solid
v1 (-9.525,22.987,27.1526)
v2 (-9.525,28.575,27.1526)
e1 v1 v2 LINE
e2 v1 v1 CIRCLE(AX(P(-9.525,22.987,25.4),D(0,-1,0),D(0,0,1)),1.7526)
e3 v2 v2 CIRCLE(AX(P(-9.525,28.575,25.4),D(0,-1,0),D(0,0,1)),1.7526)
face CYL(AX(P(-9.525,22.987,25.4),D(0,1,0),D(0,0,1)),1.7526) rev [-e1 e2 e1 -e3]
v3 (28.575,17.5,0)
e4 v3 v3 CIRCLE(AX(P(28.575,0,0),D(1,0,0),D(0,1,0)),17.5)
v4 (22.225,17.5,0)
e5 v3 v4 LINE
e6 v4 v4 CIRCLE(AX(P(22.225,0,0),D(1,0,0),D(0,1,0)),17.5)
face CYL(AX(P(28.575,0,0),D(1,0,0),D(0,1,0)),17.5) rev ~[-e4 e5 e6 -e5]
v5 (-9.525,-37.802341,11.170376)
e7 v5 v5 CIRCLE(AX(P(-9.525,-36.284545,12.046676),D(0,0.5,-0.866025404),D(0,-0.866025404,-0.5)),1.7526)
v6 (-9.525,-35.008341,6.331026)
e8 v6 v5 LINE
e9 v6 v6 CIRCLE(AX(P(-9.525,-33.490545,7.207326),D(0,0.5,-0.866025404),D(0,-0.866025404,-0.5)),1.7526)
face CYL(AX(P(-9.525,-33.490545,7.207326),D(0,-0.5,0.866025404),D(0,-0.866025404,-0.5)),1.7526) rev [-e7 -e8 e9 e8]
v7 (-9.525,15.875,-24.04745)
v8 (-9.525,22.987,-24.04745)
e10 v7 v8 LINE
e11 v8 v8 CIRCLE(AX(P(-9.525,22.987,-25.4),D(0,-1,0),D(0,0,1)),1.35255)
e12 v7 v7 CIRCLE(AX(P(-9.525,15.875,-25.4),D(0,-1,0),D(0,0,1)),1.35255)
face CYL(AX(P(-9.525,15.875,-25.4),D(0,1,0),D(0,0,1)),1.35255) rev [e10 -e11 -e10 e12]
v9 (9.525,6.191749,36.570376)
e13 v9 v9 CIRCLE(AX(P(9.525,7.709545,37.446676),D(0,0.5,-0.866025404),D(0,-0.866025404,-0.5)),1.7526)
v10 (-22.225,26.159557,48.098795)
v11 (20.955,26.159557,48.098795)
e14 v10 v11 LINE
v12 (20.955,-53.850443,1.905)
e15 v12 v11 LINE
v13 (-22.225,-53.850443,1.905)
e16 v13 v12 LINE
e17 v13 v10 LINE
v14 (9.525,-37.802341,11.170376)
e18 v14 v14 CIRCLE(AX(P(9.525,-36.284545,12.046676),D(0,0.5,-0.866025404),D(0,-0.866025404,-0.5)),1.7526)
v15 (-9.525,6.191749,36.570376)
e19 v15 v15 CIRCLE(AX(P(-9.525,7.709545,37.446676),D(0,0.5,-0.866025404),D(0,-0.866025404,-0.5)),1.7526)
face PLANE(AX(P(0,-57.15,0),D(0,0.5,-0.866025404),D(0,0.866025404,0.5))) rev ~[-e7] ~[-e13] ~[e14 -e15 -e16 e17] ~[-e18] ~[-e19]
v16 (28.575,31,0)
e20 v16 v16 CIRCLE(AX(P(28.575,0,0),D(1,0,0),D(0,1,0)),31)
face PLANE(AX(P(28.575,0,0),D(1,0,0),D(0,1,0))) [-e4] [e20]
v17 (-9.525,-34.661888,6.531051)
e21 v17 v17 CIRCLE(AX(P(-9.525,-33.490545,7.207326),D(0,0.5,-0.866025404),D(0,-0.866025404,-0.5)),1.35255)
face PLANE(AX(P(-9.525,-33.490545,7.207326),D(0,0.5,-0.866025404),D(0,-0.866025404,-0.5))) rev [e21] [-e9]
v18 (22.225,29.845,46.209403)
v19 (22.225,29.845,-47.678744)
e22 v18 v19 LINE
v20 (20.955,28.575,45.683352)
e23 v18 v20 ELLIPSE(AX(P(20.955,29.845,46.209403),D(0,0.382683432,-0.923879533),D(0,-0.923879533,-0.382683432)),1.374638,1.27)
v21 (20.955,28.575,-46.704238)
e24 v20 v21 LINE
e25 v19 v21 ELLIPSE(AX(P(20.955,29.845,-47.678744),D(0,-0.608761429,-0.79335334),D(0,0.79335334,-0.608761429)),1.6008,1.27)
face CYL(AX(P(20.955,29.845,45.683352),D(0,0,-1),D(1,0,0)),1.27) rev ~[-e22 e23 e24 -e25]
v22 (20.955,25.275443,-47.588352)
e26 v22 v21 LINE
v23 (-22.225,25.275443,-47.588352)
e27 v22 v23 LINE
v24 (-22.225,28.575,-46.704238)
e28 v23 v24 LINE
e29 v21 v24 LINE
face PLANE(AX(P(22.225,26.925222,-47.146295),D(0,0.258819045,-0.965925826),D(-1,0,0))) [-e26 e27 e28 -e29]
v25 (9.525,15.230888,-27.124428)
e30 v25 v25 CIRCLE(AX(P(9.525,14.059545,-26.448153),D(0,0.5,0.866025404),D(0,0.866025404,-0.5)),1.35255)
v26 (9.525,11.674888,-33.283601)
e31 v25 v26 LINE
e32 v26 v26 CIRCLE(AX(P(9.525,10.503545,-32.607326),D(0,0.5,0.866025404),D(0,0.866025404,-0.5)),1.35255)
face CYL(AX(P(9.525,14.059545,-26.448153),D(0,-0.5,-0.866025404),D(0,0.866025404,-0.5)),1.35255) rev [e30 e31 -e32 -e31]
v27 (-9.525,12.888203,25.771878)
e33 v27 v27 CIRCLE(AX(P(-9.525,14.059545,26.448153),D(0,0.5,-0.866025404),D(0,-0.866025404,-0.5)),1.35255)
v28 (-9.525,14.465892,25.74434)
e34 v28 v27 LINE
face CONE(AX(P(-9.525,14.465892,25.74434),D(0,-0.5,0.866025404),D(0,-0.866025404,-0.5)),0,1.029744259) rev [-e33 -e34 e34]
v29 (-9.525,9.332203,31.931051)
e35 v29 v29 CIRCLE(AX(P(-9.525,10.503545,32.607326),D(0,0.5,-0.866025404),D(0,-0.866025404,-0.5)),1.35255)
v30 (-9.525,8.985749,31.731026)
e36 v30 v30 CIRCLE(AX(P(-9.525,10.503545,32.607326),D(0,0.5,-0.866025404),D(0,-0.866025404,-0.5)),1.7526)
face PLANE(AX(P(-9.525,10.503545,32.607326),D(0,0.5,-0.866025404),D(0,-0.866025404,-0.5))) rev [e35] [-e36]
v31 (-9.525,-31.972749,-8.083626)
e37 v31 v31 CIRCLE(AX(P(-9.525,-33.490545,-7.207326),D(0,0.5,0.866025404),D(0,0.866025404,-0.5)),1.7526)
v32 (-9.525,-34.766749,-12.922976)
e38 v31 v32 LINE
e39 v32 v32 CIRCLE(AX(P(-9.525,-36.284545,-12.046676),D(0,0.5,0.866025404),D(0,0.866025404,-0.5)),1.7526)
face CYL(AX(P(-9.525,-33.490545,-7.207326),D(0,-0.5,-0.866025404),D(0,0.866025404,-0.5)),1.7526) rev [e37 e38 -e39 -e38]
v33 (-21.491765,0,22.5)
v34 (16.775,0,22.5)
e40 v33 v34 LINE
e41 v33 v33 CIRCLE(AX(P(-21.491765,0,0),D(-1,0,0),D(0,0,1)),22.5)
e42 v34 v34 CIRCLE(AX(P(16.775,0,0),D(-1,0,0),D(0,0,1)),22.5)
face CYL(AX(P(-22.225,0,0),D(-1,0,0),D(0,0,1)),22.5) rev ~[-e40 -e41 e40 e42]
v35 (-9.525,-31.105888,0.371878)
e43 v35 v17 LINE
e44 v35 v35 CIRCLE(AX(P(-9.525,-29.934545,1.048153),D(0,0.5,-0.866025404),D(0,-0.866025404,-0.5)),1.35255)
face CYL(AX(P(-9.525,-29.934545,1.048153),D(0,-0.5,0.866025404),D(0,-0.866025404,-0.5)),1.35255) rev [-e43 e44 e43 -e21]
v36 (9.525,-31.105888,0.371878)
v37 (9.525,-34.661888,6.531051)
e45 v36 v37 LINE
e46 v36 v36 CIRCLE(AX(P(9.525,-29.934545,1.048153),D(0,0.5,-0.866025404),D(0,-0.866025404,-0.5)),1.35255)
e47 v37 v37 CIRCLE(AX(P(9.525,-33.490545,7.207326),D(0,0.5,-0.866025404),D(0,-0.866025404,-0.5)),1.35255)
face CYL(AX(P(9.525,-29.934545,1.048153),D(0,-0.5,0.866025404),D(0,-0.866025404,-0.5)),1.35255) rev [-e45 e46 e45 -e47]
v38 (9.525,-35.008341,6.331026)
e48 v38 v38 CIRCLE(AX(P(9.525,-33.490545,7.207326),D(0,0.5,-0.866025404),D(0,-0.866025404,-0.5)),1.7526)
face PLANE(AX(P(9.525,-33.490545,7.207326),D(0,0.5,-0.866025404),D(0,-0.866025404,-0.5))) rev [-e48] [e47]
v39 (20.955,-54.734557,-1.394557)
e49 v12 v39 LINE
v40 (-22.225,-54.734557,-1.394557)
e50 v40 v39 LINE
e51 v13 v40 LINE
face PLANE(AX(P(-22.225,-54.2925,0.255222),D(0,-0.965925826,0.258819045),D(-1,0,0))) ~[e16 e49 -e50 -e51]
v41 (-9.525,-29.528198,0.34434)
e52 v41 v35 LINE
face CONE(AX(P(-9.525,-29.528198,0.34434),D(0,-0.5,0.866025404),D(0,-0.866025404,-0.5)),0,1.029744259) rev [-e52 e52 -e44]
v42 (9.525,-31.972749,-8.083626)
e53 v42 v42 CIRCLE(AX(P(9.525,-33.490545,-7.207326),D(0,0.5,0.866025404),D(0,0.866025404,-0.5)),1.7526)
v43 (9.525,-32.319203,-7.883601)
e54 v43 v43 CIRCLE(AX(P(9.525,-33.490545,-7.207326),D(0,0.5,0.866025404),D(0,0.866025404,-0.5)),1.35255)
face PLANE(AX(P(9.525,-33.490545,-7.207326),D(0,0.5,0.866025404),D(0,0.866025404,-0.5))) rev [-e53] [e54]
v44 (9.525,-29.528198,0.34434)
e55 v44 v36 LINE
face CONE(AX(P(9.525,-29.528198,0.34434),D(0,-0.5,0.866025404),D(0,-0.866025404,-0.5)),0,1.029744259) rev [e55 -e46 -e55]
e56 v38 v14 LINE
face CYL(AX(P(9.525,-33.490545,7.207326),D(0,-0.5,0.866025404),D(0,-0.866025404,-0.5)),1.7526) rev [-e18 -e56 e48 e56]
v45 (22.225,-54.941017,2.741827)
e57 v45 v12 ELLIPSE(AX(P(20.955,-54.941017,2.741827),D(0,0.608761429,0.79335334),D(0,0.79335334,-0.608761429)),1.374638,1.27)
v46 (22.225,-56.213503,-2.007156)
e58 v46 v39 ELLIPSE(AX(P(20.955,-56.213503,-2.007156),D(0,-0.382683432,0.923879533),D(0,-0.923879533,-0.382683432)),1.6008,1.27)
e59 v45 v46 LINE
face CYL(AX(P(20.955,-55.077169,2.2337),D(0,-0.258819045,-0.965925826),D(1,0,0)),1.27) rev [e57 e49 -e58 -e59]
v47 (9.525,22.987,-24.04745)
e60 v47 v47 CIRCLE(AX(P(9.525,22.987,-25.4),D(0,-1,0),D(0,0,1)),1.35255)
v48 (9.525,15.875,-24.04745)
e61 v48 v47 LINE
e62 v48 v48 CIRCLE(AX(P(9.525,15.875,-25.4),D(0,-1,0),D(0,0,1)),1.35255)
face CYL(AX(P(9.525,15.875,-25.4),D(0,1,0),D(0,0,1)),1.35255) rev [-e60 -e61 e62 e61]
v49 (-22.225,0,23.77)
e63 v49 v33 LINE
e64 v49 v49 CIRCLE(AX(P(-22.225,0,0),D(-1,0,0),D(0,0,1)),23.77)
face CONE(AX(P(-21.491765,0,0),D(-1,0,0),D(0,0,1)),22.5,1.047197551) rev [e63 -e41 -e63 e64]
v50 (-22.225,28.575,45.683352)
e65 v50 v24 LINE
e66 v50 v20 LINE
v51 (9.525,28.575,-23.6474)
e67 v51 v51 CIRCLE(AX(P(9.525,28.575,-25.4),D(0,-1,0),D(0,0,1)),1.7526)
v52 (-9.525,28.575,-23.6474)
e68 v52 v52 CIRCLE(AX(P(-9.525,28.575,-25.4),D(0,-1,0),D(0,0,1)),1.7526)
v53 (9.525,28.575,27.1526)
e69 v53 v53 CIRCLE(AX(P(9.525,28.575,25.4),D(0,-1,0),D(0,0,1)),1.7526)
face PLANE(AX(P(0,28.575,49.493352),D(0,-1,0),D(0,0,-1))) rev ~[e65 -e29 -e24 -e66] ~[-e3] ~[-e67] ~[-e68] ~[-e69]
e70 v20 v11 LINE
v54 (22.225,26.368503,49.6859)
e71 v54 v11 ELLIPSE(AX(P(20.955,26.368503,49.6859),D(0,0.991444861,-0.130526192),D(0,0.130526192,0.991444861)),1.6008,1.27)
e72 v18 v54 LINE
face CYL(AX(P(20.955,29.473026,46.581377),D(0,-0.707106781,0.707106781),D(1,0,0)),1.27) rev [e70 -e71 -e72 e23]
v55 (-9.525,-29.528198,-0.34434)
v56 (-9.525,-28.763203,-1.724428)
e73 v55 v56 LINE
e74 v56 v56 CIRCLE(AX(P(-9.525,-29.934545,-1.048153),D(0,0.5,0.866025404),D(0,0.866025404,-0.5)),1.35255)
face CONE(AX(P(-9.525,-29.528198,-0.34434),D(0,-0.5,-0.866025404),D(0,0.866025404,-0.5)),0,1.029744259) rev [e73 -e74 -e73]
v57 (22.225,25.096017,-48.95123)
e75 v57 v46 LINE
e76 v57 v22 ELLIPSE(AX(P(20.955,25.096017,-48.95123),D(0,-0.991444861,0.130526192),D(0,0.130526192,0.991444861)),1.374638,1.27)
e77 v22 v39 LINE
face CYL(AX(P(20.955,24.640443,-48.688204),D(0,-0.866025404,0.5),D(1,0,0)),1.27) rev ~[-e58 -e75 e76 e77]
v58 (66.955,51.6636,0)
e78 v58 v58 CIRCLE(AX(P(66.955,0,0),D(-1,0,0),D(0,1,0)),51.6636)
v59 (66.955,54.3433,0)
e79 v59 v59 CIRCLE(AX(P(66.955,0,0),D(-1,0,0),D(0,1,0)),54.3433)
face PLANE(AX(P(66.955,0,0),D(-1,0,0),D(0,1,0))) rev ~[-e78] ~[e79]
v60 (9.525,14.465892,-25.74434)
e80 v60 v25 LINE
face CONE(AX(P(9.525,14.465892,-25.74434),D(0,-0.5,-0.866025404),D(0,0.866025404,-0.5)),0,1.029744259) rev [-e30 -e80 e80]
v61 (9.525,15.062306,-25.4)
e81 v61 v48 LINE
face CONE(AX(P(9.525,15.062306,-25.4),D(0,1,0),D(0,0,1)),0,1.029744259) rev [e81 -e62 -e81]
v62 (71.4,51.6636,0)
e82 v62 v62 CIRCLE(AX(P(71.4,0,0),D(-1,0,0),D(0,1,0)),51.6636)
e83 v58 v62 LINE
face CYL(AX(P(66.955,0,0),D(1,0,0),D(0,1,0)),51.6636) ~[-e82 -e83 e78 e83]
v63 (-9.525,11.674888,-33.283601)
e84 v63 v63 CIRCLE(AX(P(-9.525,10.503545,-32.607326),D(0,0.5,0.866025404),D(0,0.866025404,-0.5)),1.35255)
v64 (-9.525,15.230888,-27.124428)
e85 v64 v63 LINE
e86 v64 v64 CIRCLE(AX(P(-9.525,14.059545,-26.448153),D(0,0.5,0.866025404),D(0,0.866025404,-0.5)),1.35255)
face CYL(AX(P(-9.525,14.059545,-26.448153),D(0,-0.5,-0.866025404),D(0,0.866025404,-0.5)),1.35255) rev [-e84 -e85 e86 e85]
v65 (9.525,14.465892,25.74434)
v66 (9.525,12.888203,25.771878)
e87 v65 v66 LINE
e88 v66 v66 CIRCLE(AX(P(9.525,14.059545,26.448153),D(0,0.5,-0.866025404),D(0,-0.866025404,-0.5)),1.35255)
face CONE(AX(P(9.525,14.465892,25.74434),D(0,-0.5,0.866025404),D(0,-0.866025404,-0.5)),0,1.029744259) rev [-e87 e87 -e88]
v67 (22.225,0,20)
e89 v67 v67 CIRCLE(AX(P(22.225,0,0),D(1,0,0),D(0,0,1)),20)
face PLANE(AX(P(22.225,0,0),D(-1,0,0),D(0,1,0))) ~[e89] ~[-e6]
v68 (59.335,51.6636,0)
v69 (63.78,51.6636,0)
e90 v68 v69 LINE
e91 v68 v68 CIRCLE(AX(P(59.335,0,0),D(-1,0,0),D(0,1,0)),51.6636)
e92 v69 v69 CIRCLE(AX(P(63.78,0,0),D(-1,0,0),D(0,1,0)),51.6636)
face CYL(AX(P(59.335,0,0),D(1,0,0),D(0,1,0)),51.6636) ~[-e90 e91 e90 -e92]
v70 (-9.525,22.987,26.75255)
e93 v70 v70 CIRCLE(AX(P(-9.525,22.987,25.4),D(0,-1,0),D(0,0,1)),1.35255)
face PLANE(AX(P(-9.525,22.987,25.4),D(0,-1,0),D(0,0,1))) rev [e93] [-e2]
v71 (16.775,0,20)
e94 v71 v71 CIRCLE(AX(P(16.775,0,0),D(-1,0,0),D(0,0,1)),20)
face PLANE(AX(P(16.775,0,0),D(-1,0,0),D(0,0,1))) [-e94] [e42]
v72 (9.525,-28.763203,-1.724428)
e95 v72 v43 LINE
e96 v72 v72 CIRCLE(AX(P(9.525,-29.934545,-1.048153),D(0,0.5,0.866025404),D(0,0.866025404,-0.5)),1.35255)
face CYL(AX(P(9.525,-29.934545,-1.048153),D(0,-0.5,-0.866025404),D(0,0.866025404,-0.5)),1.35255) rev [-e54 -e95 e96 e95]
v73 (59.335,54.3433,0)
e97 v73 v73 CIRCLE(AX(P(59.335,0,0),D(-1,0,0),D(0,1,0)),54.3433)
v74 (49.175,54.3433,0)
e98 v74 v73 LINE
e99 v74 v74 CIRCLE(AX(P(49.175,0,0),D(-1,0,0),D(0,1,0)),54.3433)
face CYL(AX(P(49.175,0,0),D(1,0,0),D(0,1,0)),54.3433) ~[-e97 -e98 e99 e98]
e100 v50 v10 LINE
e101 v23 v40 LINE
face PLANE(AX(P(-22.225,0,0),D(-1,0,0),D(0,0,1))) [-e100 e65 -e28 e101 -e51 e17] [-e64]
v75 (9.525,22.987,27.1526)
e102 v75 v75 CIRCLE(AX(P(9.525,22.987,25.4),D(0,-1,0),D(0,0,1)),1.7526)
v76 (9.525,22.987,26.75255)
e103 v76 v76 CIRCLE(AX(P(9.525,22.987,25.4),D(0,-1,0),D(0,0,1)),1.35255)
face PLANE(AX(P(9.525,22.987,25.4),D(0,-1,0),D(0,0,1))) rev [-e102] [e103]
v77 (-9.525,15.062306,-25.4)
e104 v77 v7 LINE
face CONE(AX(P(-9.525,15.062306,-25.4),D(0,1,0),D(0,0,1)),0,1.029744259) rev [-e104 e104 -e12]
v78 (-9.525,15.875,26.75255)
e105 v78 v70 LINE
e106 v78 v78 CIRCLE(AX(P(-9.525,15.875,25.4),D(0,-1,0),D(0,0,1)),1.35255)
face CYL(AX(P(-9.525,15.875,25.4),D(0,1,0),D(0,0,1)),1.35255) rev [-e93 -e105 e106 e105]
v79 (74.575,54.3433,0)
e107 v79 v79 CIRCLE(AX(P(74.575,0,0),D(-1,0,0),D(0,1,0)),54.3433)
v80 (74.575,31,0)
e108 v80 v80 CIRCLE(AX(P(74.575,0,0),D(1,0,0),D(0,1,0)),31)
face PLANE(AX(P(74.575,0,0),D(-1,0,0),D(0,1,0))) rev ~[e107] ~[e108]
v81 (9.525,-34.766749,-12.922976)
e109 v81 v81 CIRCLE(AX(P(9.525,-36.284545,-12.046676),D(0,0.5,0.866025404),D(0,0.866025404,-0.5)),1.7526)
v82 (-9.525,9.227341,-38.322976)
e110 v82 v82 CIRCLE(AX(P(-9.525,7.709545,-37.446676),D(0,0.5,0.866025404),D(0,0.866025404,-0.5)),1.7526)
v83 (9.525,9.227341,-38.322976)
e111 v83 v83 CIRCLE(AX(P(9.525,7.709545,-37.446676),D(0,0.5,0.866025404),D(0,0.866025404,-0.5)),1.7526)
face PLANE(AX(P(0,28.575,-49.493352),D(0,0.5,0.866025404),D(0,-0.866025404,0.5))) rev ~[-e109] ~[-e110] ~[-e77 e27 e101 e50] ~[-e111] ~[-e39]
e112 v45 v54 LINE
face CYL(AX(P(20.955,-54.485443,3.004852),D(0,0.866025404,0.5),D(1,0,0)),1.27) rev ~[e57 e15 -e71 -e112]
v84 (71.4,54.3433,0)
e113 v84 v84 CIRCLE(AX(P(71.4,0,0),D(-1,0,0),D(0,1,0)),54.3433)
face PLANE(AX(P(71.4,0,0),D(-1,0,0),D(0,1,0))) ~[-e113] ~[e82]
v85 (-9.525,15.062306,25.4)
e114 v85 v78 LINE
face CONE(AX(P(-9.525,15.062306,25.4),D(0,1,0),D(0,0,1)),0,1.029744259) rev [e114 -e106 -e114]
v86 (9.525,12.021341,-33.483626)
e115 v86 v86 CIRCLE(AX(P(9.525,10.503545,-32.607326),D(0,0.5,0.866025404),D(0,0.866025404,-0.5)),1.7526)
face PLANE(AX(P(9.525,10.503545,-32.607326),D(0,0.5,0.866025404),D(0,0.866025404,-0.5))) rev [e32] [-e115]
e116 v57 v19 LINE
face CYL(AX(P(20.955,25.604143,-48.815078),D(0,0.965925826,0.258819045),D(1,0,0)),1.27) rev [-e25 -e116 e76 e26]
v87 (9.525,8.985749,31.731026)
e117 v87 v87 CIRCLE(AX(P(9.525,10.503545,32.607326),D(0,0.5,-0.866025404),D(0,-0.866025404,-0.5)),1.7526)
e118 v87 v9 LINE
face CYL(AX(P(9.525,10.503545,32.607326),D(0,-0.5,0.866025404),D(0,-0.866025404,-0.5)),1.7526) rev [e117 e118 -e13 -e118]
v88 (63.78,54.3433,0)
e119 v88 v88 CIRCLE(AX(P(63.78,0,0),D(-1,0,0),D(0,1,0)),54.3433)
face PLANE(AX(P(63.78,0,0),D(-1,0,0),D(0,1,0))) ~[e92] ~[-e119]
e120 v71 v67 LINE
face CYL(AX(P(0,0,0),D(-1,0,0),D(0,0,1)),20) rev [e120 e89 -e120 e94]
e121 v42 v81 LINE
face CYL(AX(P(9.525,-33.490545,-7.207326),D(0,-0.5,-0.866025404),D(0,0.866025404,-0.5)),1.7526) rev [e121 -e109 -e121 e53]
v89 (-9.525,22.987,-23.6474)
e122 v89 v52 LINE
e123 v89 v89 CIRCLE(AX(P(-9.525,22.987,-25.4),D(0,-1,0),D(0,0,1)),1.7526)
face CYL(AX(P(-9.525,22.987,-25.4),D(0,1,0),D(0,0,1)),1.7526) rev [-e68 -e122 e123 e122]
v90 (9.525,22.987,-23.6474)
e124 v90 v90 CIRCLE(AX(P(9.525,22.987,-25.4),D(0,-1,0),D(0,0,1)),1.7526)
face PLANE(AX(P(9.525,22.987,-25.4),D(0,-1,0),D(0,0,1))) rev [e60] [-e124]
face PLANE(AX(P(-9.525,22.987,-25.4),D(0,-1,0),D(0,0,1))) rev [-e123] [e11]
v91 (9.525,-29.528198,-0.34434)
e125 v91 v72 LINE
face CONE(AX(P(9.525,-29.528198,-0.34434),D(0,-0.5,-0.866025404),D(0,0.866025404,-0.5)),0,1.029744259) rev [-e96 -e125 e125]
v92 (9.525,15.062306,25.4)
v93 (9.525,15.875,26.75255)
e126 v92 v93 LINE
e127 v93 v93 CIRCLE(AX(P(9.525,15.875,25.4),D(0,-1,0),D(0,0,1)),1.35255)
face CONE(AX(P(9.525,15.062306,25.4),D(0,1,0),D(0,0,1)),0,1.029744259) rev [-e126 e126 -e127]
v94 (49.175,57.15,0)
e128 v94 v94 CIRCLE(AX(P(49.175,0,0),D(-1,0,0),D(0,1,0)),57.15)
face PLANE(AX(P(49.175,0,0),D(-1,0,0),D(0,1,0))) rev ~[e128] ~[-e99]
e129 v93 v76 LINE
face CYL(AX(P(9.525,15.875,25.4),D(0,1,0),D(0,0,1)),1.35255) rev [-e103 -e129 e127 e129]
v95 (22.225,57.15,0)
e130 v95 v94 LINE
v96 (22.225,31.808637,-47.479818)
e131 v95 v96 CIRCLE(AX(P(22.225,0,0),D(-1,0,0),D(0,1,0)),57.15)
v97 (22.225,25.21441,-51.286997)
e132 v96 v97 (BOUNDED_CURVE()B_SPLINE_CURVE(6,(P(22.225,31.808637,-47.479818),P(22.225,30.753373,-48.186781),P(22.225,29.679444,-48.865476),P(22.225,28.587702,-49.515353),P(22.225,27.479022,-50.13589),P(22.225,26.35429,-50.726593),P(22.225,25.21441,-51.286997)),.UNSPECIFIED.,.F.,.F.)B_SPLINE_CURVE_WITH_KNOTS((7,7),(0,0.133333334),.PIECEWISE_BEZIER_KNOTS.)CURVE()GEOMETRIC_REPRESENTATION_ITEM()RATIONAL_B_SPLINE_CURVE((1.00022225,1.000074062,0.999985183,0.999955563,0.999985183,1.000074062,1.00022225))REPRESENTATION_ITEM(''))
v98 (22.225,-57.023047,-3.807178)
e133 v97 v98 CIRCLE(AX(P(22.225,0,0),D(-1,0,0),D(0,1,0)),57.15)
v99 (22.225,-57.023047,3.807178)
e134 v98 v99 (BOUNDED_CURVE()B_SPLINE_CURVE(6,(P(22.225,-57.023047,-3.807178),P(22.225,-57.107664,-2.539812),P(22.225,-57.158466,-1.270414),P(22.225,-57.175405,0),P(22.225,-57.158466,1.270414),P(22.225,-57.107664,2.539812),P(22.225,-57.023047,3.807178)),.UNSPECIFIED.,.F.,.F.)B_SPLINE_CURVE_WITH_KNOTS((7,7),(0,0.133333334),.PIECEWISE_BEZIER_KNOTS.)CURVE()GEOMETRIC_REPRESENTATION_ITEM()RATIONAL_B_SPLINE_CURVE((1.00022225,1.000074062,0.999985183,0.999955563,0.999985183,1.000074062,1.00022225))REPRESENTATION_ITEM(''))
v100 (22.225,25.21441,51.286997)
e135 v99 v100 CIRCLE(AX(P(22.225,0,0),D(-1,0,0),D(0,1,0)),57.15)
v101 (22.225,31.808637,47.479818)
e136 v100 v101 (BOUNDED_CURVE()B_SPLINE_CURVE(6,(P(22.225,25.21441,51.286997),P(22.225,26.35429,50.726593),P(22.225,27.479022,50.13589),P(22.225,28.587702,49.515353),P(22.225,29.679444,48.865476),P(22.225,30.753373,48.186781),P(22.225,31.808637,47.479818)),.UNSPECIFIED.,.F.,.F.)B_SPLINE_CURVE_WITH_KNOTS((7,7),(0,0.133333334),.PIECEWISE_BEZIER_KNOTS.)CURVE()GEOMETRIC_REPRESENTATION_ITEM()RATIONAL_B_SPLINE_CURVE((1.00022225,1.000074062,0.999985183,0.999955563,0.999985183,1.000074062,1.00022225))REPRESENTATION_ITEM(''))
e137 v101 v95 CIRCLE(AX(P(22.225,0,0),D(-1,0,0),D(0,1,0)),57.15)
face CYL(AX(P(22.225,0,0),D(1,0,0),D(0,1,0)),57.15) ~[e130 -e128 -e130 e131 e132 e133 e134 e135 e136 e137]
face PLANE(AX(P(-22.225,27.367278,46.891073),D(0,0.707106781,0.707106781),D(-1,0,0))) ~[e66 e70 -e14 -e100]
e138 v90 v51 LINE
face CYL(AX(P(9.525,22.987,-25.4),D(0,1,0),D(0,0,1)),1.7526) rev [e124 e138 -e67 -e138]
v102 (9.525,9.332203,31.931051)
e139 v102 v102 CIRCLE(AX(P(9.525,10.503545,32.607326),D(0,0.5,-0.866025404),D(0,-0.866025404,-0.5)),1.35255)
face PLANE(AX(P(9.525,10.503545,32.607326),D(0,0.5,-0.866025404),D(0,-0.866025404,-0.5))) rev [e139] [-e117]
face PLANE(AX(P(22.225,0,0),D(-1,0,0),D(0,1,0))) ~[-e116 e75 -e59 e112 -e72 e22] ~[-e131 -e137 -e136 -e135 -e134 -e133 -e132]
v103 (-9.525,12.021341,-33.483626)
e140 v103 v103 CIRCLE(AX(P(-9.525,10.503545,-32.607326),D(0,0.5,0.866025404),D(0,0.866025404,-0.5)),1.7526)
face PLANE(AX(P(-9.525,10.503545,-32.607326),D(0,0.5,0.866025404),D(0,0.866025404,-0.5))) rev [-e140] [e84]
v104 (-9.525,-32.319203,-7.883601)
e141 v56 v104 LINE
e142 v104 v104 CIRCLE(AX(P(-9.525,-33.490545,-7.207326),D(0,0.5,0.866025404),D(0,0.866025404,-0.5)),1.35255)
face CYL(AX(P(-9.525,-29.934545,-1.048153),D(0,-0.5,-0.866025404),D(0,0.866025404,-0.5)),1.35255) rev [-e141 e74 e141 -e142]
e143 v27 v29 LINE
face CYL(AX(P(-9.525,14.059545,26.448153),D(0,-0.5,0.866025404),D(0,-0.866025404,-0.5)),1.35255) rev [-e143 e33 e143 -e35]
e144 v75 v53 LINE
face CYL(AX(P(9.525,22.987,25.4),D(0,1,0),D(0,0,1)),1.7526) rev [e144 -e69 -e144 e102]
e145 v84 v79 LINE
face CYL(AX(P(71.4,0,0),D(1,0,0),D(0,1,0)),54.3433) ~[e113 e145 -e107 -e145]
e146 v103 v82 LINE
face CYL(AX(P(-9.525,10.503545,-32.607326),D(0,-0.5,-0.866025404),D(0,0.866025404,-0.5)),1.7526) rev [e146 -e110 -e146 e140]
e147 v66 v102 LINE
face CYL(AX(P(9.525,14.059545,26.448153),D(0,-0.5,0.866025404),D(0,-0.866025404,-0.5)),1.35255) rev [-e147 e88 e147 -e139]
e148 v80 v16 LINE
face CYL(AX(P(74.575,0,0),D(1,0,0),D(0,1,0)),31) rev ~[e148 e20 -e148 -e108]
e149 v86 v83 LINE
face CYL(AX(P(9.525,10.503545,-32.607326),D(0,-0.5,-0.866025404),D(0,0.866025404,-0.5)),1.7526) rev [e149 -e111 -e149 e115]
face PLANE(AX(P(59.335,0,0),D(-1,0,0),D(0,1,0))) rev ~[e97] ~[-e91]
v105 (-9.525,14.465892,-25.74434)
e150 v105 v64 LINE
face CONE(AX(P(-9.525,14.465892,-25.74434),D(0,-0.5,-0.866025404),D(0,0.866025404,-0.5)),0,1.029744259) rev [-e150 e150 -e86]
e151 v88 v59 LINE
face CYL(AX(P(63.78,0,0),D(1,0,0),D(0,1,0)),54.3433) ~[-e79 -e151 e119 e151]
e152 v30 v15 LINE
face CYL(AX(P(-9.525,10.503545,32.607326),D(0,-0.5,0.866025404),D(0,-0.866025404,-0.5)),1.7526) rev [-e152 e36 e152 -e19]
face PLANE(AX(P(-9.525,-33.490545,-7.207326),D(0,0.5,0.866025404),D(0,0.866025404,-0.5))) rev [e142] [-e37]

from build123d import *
from OCP.BRepFilletAPI import BRepFilletAPI_MakeChamfer

# Parameters (mm, degrees)
BOSS_EXTRUDE1_DEPTH            = 22.225
SKETCH4_R                      = 22.5
CUT_EXTRUDE2_DEPTH             = 39
CHAMFER1_SIZE                  = 1.27
CHAMFER1_SIZE2                 = 0.733234842
SKETCH5_R                      = 20
CUT_EXTRUDE3_DEPTH             = 22.225
F_6_32_TAPPED_HOLE2_AT_2_COUNT = 2
F_6_32_TAPPED_HOLE2_AT_2_PITCH = 19.05
F_6_32_TAPPED_HOLE2_AT_3_COUNT = 2
F_6_32_TAPPED_HOLE2_AT_3_PITCH = 54.254423783
F_6_32_TAPPED_HOLE2_AT_4_COUNT = 2
F_6_32_TAPPED_HOLE2_AT_4_PITCH = 50.8
CIRPATTERN1_COUNT              = 3
SKETCH9_R                      = 31
CUT_EXTRUDE5_DEPTH             = 46
CUT_EXTRUDE6_REACH             = 97.461
SKETCH10_R                     = 17.5
CHAMFER2_SIZE                  = 3.81
CHAMFER2_SIZE2                 = 2.789113577
FILLET4_R                      = 1.27


with BuildPart() as part:
    # Sketch1 → Boss-Extrude1 (new, symmetric)
    with BuildSketch(Plane(origin=(0, 0, 0), x_dir=(0, 0, -1), z_dir=(1, 0, 0))):
        Polygon((-49.493351826, 28.575), (49.493351826, 28.575), (0, -57.15), align=None)
    extrude(amount=BOSS_EXTRUDE1_DEPTH, both=True)

    # Sketch4 → Cut-Extrude2 (cut)
    with BuildSketch(Plane.ZY.offset(22.225)):
        Circle(SKETCH4_R)
    extrude(amount=-CUT_EXTRUDE2_DEPTH, mode=Mode.SUBTRACT)

    # Chamfer1
    chamfer1_edges = [part.edges().sort_by_distance(p)[0] for p in [
        (-22.225, 0, -22.5),
    ]]
    chamfer1_side = [part.faces().sort_by_distance(p)[0] for p in [
        (-22.225, 27.265528995, 0),
    ]]
    chamfer(chamfer1_edges, length=CHAMFER1_SIZE, length2=CHAMFER1_SIZE2, reference=chamfer1_side[0])

    # Sketch5 → Cut-Extrude3 (cut)
    with BuildSketch(Plane(origin=(0, 0, 0), x_dir=(0, 0, -1), z_dir=(1, 0, 0))):
        with Locations(Location((0, 0, 0), (0, 0, 180))):
            Circle(SKETCH5_R)
    extrude(amount=CUT_EXTRUDE3_DEPTH, mode=Mode.SUBTRACT)

    # Sketch6 → Revolve1 (revolve)
    with BuildSketch(Plane.XY):
        Polygon((22.225, 0), (22.225, 57.15), (49.175, 57.15), (49.175, 54.3433), (59.335, 54.3433), (59.335, 51.6636), (63.78, 51.6636), (63.78, 54.3433), (66.955, 54.3433), (66.955, 51.6636), (71.4, 51.6636), (71.4, 54.3433), (74.575, 54.3433), (74.575, 0), align=None)
    revolve(axis=Axis((74.575, 0, 0), (-1, 0, 0)))

    # Sketch8 → #6-32 Tapped Hole2 (revolve, cut)
    with BuildSketch(Plane(origin=(-9.525, 28.575, -25.4), x_dir=(0, 0, 1), z_dir=(1, 0, 0))):
        Polygon((0, 0), (0, 13.51269403), (1.35255, 12.7), (1.35255, 5.588), (1.7526, 5.588), (1.7526, 0), align=None)
    f_6_32_tapped_hole2 = revolve(axis=Axis((-9.525, 34.925, -25.4), (0, -1, 0)), mode=Mode.SUBTRACT)

    # #6-32 Tapped Hole2 at 2: #6-32 Tapped Hole2 ×2
    with Locations(*[(i * F_6_32_TAPPED_HOLE2_AT_2_PITCH, 0, 0) for i in range(1, F_6_32_TAPPED_HOLE2_AT_2_COUNT)]):
        add(f_6_32_tapped_hole2, mode=Mode.SUBTRACT)

    # #6-32 Tapped Hole2 at 3: #6-32 Tapped Hole2 ×2
    with Locations(*[Vector(0.35112344158839176, 0, 0.9363291775690445) * (i * F_6_32_TAPPED_HOLE2_AT_3_PITCH) for i in range(1, F_6_32_TAPPED_HOLE2_AT_3_COUNT)]):
        add(f_6_32_tapped_hole2, mode=Mode.SUBTRACT)

    # #6-32 Tapped Hole2 at 4: #6-32 Tapped Hole2 ×2
    with Locations(*[(0, 0, i * F_6_32_TAPPED_HOLE2_AT_4_PITCH) for i in range(1, F_6_32_TAPPED_HOLE2_AT_4_COUNT)]):
        add(f_6_32_tapped_hole2, mode=Mode.SUBTRACT)

    # CirPattern1: #6-32 Tapped Hole2 ×3 about axis
    cirpattern1_axis = Axis((0, 0, 0), (1, 0, 0))
    for i in range(1, CIRPATTERN1_COUNT):
        add(f_6_32_tapped_hole2.rotate(cirpattern1_axis, i * 360 / CIRPATTERN1_COUNT), mode=Mode.SUBTRACT)

    # CirPattern1 copy 1 sketch → CirPattern1 copy 1 (revolve, cut)
    with BuildSketch(Plane(origin=(9.525, 7.709545256, 37.446675913), x_dir=(0, -0.8660254037844387, -0.4999999999999998), z_dir=(1, 0, 0))):
        Polygon((0, 0), (0, 13.51269403), (1.35255, 12.7), (1.35255, 5.588), (1.7526, 5.588), (1.7526, 0), align=None)
    revolve(axis=Axis((9.525, 4.534545256, 42.945937227), (0, 0.4999999999999998, -0.8660254037844387)), mode=Mode.SUBTRACT)

    # CirPattern1 copy 2 sketch → CirPattern1 copy 2 (revolve, cut)
    with BuildSketch(Plane(origin=(9.525, -36.284545256, -12.046675913), x_dir=(0, 0.8660254037844384, -0.5000000000000004), z_dir=(1, 0, 0))):
        Polygon((0, 0), (0, 13.51269403), (1.35255, 12.7), (1.35255, 5.588), (1.7526, 5.588), (1.7526, 0), align=None)
    revolve(axis=Axis((9.525, -39.459545256, -17.545937227), (0, 0.5000000000000004, 0.8660254037844384)), mode=Mode.SUBTRACT)

    # CirPattern1 copy 3 sketch → CirPattern1 copy 3 (revolve, cut)
    with BuildSketch(Plane(origin=(9.525, -36.284545256, 12.046675913), x_dir=(0, -0.8660254037844387, -0.4999999999999998), z_dir=(1, 0, 0))):
        Polygon((0, 0), (0, 13.51269403), (1.35255, 12.7), (1.35255, 5.588), (1.7526, 5.588), (1.7526, 0), align=None)
    revolve(axis=Axis((9.525, -39.459545256, 17.545937227), (0, 0.4999999999999998, -0.8660254037844387)), mode=Mode.SUBTRACT)

    # CirPattern1 copy 4 sketch → CirPattern1 copy 4 (revolve, cut)
    with BuildSketch(Plane(origin=(9.525, 7.709545256, -37.446675913), x_dir=(0, 0.8660254037844384, -0.5000000000000004), z_dir=(1, 0, 0))):
        Polygon((0, 0), (0, 13.51269403), (1.35255, 12.7), (1.35255, 5.588), (1.7526, 5.588), (1.7526, 0), align=None)
    revolve(axis=Axis((9.525, 4.534545256, -42.945937227), (0, 0.5000000000000004, 0.8660254037844384)), mode=Mode.SUBTRACT)

    # CirPattern1 copy 5 sketch → CirPattern1 copy 5 (revolve, cut)
    with BuildSketch(Plane(origin=(-9.525, -36.284545256, 12.046675913), x_dir=(0, -0.8660254037844387, -0.4999999999999998), z_dir=(1, 0, 0))):
        Polygon((0, 0), (0, 13.51269403), (1.35255, 12.7), (1.35255, 5.588), (1.7526, 5.588), (1.7526, 0), align=None)
    revolve(axis=Axis((-9.525, -39.459545256, 17.545937227), (0, 0.4999999999999998, -0.8660254037844387)), mode=Mode.SUBTRACT)

    # CirPattern1 copy 6 sketch → CirPattern1 copy 6 (revolve, cut)
    with BuildSketch(Plane(origin=(-9.525, 7.709545256, -37.446675913), x_dir=(0, 0.8660254037844384, -0.5000000000000004), z_dir=(1, 0, 0))):
        Polygon((0, 0), (0, 13.51269403), (1.35255, 12.7), (1.35255, 5.588), (1.7526, 5.588), (1.7526, 0), align=None)
    revolve(axis=Axis((-9.525, 4.534545256, -42.945937227), (0, 0.5000000000000004, 0.8660254037844384)), mode=Mode.SUBTRACT)

    # Sketch9 → Cut-Extrude5 (cut)
    with BuildSketch(Plane(origin=(74.575, 0, 0), x_dir=(0, 0, -1), z_dir=(1, 0, 0))):
        with Locations(Location((0, 0, 0), (0, 0, 90))):
            Circle(SKETCH9_R)
    extrude(amount=-CUT_EXTRUDE5_DEPTH, mode=Mode.SUBTRACT)

    # Sketch10 → Cut-Extrude6 (cut, up to next)
    with BuildSketch(Plane(origin=(28.575, 0, 0), x_dir=(0, 0, -1), z_dir=(1, 0, 0)), mode=Mode.PRIVATE) as cut_extrude6_sk1:
        with Locations(Location((0, 0, 0), (0, 0, 90))):
            Circle(SKETCH10_R)
    cut_extrude6_tool1 = extrude(cut_extrude6_sk1.sketch, amount=-CUT_EXTRUDE6_REACH, mode=Mode.PRIVATE) & part.part
    add(cut_extrude6_tool1.solids().sort_by_distance((28.575, 0, 0))[0], mode=Mode.SUBTRACT)

    # Chamfer2: one chamfer whose edges measure the first distance from different faces: ONE call of the kernel's chamfer builder (chamfer() names one face for all edges)
    chamfer2_edges_1 = [part.edges().sort_by_distance(p)[0] for p in [
        (0, 28.575, 49.493351826),
    ]]
    chamfer2_side_1 = [part.faces().sort_by_distance(p)[0] for p in [
        (0, 28.575, 0),
    ]]
    chamfer2_edges_2 = [part.edges().sort_by_distance(p)[0] for p in [
        (0, 28.575, -49.493351826),
    ]]
    chamfer2_side_2 = [part.faces().sort_by_distance(p)[0] for p in [
        (0, -14.2875, -24.746675913),
    ]]
    chamfer2_edges_3 = [part.edges().sort_by_distance(p)[0] for p in [
        (0, -57.15, 0),
    ]]
    chamfer2_side_3 = [part.faces().sort_by_distance(p)[0] for p in [
        (0, -14.2875, 24.746675913),
    ]]
    chamfer2 = BRepFilletAPI_MakeChamfer(part.part.solid().wrapped)
    for e in chamfer2_edges_1:
        chamfer2.Add(CHAMFER2_SIZE, CHAMFER2_SIZE2, e.wrapped, chamfer2_side_1[0].wrapped)  # the first distance lies on this face
    for e in chamfer2_edges_2:
        chamfer2.Add(CHAMFER2_SIZE, CHAMFER2_SIZE2, e.wrapped, chamfer2_side_2[0].wrapped)  # the first distance lies on this face
    for e in chamfer2_edges_3:
        chamfer2.Add(CHAMFER2_SIZE, CHAMFER2_SIZE2, e.wrapped, chamfer2_side_3[0].wrapped)  # the first distance lies on this face
    add(Compound.cast(chamfer2.Shape()), mode=Mode.REPLACE)

    # Fillet4
    fillet4_edges = [part.edges().sort_by_distance(p)[0] for p in [
        (22.225, -14.729556788, -24.491454307),
        (22.225, -13.845443212, 25.001897519),
        (22.225, 28.575, -0.510443212),
        (22.225, -54.2925, 0.255221606),
        (22.225, 26.925221606, -47.146295038),
        (22.225, 27.367278394, 46.891073432),
    ]]
    fillet(fillet4_edges, radius=FILLET4_R)


solid = part.part
